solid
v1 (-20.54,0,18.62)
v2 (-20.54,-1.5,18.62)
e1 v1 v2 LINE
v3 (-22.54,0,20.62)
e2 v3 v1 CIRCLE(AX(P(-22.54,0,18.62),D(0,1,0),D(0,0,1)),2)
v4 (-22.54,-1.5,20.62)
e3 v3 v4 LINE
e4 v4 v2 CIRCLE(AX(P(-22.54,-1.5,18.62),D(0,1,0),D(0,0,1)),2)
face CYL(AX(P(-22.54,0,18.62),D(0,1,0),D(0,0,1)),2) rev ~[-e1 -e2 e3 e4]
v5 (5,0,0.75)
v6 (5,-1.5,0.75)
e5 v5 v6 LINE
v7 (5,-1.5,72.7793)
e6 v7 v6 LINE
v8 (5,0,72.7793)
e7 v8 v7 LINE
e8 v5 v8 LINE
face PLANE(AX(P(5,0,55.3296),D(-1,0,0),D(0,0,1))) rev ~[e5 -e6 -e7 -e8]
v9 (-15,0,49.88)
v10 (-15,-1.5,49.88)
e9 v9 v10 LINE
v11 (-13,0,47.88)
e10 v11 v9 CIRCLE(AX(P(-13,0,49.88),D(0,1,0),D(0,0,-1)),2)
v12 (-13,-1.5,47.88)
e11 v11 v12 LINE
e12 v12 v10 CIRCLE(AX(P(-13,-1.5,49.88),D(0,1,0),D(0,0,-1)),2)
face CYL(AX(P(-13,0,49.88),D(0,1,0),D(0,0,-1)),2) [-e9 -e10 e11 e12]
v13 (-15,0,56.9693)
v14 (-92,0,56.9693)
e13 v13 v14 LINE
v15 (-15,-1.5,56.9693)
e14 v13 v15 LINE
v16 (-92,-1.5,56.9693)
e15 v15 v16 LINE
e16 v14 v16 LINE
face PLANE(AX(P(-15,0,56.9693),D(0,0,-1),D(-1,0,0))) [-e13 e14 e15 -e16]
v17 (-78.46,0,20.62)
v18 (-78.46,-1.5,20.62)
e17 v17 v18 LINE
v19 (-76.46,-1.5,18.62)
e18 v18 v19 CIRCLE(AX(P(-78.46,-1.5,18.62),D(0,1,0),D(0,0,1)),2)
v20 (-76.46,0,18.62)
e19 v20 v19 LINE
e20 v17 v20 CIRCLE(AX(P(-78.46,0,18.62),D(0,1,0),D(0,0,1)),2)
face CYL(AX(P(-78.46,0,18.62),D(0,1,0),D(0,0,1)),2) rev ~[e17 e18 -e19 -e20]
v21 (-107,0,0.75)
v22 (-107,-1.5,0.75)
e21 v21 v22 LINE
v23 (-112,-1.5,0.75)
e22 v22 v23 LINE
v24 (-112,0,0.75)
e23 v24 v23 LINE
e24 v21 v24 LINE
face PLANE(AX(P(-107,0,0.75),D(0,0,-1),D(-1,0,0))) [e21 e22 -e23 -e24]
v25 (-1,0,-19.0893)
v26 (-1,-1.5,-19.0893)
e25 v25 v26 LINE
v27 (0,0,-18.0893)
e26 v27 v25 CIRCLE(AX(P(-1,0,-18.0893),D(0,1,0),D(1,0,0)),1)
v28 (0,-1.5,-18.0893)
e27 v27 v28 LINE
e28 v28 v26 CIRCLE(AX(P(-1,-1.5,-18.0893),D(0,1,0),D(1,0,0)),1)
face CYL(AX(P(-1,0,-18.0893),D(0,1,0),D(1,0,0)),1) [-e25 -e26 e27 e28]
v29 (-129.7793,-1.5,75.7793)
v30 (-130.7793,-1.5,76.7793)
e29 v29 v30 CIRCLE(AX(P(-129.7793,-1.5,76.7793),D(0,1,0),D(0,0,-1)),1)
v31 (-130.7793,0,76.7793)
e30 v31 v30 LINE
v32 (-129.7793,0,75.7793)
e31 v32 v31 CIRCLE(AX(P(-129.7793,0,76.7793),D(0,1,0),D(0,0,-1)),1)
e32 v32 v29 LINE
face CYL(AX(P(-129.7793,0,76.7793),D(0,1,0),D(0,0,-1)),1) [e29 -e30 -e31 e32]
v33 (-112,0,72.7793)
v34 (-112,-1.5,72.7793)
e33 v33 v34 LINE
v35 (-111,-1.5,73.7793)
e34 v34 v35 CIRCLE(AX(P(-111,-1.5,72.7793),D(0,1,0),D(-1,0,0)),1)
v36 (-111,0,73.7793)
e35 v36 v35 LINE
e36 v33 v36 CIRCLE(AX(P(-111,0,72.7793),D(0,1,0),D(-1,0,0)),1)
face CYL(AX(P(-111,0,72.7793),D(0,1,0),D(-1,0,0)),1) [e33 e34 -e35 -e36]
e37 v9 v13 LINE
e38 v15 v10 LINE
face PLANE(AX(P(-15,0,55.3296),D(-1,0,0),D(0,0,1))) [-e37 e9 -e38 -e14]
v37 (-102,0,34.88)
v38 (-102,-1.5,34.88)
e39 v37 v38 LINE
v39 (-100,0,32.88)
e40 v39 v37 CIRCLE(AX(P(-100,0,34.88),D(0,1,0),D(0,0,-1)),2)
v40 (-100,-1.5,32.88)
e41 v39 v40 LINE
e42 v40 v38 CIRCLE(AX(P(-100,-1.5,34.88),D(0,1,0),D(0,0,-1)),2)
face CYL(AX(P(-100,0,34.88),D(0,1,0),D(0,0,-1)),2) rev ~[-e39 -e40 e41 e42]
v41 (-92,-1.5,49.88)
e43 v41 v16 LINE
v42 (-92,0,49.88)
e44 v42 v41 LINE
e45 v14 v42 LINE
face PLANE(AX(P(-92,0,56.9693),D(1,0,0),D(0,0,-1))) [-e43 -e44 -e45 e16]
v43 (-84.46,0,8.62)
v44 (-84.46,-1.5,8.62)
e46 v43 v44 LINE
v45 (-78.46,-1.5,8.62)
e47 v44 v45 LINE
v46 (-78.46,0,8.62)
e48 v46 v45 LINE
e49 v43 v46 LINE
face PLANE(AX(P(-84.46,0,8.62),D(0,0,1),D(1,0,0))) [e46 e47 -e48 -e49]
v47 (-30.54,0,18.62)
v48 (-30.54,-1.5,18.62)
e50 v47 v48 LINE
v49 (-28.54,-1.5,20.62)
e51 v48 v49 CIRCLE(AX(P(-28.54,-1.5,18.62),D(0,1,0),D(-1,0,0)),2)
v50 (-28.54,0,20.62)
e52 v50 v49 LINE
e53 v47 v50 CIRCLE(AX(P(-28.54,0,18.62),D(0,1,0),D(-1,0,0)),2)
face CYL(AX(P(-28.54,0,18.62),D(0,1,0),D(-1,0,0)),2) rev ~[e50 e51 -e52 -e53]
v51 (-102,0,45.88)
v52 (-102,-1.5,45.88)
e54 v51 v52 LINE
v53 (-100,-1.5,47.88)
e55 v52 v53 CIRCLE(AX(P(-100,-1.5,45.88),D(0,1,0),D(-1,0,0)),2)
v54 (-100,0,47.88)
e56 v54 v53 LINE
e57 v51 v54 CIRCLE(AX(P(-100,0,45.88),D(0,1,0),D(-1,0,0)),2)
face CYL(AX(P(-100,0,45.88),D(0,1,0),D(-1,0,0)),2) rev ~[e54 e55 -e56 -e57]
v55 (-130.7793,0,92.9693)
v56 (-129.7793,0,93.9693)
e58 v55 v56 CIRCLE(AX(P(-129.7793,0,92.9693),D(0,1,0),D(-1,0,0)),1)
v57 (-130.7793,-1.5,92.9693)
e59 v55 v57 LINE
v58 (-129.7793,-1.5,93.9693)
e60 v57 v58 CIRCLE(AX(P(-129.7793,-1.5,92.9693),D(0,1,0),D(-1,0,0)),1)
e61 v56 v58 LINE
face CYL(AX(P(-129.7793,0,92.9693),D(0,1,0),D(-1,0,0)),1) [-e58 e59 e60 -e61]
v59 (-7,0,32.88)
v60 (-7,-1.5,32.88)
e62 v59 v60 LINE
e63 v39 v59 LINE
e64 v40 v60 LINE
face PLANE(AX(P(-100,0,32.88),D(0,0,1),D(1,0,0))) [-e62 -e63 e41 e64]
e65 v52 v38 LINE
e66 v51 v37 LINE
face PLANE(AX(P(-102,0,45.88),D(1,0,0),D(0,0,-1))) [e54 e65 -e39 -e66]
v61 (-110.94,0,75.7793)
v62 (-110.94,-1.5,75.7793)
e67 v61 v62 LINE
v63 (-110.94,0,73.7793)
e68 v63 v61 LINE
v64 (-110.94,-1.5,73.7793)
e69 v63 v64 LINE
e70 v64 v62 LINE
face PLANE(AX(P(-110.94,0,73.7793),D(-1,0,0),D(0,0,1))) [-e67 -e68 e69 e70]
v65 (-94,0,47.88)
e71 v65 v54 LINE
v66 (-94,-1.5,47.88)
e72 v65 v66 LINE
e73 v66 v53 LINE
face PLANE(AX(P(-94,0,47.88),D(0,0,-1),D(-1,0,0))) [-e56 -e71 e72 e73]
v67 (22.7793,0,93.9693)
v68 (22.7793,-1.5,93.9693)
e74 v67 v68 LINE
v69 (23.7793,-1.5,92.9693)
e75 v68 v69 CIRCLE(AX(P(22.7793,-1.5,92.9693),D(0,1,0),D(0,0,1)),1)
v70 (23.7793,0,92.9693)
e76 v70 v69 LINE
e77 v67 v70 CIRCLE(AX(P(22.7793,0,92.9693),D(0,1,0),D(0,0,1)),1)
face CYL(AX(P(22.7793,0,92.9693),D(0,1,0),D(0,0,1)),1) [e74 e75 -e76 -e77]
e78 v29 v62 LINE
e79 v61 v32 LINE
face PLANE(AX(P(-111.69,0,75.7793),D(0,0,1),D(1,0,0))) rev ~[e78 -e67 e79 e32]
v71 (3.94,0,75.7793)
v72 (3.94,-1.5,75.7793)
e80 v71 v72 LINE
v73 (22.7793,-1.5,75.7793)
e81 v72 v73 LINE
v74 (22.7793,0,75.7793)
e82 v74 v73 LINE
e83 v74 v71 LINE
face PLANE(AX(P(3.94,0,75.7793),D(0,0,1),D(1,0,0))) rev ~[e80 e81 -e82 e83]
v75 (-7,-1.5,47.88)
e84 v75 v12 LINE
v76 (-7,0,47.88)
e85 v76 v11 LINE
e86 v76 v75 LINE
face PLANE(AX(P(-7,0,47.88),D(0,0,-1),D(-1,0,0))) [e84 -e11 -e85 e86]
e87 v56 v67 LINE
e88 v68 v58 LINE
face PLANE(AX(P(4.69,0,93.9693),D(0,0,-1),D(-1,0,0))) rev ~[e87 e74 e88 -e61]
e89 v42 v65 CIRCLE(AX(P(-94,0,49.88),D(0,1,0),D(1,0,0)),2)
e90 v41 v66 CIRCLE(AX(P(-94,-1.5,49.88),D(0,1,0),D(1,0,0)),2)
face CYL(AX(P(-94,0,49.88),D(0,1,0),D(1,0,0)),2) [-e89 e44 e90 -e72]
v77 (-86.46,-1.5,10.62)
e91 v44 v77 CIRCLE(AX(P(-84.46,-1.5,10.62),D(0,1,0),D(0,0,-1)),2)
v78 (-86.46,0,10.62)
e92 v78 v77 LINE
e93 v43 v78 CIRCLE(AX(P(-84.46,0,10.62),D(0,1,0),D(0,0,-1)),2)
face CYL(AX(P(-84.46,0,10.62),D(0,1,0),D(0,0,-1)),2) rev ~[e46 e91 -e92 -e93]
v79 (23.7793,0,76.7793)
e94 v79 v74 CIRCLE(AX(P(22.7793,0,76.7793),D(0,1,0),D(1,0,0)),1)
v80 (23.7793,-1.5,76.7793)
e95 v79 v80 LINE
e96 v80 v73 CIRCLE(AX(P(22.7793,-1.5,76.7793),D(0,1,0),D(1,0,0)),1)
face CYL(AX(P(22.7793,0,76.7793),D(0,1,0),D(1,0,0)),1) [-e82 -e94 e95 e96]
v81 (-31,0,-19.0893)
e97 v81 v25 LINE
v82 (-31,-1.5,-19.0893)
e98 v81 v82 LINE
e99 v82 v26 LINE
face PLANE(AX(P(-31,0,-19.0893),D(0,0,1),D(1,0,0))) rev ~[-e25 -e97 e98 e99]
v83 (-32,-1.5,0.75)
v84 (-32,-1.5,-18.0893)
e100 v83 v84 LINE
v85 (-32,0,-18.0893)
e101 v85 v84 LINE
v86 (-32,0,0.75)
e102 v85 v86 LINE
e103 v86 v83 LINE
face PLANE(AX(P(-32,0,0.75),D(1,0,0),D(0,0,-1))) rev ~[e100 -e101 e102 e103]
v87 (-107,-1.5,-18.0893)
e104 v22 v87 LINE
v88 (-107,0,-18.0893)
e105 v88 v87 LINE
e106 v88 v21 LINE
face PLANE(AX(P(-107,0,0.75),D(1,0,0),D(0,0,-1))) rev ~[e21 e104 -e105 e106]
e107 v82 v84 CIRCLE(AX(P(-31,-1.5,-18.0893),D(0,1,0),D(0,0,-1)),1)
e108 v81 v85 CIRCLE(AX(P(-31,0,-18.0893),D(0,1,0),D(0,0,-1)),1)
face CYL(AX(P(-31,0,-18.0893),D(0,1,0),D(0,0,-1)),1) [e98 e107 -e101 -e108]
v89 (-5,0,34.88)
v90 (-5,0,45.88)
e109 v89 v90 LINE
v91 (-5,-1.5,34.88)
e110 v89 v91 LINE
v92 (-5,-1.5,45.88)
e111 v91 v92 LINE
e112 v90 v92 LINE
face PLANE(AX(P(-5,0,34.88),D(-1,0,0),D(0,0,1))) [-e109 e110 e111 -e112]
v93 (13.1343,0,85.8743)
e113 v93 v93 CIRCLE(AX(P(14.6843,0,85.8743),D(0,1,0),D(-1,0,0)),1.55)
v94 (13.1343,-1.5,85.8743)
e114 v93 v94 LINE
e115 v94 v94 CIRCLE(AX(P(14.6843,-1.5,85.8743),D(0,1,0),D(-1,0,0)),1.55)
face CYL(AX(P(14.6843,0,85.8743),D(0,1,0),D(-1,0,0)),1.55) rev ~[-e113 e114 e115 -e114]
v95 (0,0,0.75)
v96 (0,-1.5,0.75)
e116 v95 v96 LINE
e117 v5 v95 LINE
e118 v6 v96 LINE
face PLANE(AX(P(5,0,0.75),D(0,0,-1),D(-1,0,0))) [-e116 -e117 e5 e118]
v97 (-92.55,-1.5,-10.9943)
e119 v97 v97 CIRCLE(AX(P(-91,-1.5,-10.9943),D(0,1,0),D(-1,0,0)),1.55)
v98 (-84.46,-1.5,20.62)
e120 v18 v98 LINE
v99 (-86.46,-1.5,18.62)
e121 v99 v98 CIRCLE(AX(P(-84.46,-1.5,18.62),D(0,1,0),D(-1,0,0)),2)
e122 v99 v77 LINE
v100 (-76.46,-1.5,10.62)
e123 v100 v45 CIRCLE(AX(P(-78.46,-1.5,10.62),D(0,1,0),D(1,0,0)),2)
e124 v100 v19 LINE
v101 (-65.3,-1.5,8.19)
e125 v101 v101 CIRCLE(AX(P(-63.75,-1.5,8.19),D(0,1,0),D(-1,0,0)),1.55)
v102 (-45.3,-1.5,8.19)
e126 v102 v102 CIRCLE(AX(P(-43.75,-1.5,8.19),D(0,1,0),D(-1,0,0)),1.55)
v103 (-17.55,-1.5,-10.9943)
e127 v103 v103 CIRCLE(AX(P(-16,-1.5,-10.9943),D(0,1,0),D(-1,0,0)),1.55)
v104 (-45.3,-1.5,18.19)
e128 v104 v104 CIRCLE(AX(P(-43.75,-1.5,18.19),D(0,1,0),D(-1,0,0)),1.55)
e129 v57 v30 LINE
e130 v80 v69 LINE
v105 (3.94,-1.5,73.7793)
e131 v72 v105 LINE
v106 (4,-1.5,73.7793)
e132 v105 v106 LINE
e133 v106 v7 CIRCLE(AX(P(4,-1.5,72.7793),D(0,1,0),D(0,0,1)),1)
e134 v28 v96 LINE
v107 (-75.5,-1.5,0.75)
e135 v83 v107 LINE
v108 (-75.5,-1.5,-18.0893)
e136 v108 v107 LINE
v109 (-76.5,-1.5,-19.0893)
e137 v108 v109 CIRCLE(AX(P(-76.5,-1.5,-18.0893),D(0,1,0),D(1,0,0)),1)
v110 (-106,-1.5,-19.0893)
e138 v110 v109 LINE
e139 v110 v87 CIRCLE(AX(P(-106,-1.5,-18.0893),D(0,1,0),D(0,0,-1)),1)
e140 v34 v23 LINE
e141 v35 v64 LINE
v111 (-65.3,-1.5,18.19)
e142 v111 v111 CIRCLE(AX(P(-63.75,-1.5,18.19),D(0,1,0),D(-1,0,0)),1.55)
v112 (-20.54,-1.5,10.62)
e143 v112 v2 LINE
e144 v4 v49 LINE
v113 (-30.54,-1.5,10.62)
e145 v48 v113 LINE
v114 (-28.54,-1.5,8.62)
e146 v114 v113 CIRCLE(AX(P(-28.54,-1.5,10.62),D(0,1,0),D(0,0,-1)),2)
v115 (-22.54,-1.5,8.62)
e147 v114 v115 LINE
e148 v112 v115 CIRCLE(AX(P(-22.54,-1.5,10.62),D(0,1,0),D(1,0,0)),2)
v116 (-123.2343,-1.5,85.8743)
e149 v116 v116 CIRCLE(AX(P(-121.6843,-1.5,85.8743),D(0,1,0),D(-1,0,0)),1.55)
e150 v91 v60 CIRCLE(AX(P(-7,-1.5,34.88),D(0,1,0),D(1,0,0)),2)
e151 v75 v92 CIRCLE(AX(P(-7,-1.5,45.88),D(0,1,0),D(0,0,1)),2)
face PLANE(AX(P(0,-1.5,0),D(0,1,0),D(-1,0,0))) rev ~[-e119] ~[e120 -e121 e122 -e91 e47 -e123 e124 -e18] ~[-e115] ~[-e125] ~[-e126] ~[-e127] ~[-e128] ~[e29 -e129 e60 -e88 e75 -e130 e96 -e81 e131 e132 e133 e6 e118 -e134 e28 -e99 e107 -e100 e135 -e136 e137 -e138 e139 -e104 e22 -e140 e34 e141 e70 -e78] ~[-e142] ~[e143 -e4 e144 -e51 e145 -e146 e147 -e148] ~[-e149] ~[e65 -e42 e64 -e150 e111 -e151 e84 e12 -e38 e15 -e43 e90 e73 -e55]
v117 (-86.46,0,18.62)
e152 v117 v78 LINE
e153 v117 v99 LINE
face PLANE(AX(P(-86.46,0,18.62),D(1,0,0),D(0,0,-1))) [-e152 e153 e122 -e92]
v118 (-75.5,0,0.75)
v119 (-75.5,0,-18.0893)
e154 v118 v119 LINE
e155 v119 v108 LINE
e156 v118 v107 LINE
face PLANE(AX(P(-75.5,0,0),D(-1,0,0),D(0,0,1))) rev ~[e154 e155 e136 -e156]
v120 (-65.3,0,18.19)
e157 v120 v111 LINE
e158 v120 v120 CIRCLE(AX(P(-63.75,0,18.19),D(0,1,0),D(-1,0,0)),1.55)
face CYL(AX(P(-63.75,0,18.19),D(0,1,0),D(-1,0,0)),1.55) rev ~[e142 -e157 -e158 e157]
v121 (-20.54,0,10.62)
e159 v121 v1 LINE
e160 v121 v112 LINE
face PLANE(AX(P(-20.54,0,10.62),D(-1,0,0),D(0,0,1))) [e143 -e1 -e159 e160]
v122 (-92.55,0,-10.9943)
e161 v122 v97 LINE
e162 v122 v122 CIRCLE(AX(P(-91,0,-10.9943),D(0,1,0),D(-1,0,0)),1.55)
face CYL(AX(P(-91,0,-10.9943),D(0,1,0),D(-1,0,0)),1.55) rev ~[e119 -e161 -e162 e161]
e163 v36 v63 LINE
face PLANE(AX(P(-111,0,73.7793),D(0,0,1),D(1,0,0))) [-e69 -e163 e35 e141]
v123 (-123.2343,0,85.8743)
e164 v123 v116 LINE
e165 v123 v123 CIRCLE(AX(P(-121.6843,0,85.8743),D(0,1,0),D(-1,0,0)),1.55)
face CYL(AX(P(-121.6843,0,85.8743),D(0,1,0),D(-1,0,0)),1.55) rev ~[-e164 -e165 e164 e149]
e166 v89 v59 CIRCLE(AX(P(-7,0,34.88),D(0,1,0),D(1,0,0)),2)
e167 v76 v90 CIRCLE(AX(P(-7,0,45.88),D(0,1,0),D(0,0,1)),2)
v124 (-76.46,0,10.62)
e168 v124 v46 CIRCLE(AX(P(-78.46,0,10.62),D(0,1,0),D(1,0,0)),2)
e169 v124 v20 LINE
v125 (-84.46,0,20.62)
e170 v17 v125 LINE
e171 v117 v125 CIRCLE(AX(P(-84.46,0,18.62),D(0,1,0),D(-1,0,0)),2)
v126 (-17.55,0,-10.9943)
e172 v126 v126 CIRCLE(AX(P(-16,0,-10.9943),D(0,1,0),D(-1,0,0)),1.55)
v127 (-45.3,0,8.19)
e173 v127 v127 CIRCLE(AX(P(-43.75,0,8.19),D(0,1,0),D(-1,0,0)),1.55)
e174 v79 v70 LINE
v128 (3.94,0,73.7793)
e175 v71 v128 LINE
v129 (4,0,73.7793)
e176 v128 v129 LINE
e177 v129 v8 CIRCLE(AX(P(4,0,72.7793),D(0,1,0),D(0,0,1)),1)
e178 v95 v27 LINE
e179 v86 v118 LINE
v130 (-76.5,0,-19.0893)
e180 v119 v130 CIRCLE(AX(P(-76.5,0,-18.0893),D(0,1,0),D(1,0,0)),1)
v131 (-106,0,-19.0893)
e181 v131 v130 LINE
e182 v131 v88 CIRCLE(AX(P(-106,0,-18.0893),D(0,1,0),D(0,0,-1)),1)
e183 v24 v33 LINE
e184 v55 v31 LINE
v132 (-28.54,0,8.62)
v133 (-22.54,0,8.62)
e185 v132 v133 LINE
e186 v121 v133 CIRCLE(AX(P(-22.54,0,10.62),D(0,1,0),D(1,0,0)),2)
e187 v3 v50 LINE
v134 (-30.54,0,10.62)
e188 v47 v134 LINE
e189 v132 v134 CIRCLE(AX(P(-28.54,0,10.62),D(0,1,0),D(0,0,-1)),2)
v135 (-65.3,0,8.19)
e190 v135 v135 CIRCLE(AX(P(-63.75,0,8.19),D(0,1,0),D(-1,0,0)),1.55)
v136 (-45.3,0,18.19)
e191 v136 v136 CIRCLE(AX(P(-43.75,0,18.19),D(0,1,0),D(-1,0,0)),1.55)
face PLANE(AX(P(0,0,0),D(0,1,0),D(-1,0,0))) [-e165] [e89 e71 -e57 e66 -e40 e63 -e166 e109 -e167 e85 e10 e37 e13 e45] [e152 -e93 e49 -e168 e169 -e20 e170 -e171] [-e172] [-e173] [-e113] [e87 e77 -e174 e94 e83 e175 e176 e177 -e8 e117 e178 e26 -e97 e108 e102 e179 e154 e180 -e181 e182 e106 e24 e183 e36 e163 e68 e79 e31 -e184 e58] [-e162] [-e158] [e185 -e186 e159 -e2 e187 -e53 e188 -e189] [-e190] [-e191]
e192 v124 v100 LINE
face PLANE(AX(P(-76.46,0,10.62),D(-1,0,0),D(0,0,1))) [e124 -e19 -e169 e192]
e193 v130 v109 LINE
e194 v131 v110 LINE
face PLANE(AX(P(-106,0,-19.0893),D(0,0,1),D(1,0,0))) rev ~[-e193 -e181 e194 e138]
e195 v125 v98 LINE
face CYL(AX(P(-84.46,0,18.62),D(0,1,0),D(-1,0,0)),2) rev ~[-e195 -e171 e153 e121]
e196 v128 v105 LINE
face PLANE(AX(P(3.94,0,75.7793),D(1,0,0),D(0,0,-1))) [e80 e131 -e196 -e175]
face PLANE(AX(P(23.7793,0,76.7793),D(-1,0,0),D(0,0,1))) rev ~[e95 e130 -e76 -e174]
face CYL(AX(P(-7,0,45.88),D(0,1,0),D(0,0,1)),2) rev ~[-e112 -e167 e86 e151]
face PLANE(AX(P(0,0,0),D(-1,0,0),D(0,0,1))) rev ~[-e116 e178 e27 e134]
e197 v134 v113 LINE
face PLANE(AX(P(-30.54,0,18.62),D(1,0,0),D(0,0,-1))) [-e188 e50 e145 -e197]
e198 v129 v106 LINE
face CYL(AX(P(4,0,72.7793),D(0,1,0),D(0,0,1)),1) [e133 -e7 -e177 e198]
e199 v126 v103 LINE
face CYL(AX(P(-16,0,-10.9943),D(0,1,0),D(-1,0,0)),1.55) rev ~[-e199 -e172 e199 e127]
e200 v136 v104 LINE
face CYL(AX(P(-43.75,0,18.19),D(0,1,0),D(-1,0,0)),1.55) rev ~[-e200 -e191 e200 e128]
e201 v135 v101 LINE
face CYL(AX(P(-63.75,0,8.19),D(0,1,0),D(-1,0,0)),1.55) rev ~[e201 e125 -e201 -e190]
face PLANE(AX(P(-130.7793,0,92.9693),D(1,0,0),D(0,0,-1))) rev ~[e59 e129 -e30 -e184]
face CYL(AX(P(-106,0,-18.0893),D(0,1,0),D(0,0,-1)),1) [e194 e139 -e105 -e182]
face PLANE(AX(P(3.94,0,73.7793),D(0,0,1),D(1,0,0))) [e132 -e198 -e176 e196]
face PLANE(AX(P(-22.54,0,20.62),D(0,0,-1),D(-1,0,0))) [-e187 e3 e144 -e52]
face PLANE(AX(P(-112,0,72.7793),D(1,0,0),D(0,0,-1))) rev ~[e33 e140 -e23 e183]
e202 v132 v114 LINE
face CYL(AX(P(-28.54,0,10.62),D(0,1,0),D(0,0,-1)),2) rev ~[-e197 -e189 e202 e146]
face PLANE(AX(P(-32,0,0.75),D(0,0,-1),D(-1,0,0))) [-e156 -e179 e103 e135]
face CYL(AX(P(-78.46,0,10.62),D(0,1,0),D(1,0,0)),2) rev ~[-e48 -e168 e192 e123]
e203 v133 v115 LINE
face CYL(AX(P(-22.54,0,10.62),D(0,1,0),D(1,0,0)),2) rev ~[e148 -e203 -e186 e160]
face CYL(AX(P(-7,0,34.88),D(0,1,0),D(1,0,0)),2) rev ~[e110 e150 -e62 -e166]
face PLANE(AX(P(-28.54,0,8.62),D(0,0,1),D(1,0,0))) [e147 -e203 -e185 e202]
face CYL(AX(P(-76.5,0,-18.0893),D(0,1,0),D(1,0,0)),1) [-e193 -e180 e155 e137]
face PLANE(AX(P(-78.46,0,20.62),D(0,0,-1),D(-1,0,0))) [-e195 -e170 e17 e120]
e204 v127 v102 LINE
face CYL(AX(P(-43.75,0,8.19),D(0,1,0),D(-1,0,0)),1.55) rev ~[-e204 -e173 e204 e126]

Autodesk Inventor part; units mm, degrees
ref_plane "YZ Plane" through (0, 0, 0) normal (1, 0, 0) x (0, 1, 0)
ref_plane "XZ Plane" through (0, 0, 0) normal (0, 1, 0) x (-1, 0, 0)
ref_plane "XY Plane" through (0, 0, 0) normal (0, 0, 1) x (1, 0, 0)
sketch "Sketch1" plane through (0, 0, 0) normal (0, 1, 0) x (-1, 0, 0)
  line L0 (-5, 55.3296) -> (112, 55.3296)
  line L1 (75.5, -0.4496) -> (107, -0.4496)
  line L2 (-5.1396, 93.9693) -> (-5.1396, 75.7793)
  line L3 (112.1396, 75.7793) -> (112.1396, 93.9693)
  line L4 (0, -0.4496) -> (32, -0.4496)
  arc A0 (30.54, 18.62) -> (28.54, 20.62) centre (28.54, 18.62) ccw
  line L5 (22.54, 20.62) -> (28.54, 20.62)
  arc A1 (28.54, 8.62) -> (30.54, 10.62) centre (28.54, 10.62) ccw
  line L6 (30.54, 18.62) -> (30.54, 10.62)
  arc A2 (22.54, 20.62) -> (20.54, 18.62) centre (22.54, 18.62) ccw
  line L7 (20.54, 10.62) -> (20.54, 18.62)
  arc A3 (20.54, 10.62) -> (22.54, 8.62) centre (22.54, 10.62) ccw
  line L8 (28.54, 8.62) -> (22.54, 8.62)
  arc A4 (78.46, 20.62) -> (76.46, 18.62) centre (78.46, 18.62) ccw
  line L9 (76.46, 10.62) -> (76.46, 18.62)
  arc A5 (86.46, 18.62) -> (84.46, 20.62) centre (84.46, 18.62) ccw
  line L10 (78.46, 20.62) -> (84.46, 20.62)
  arc A6 (76.46, 10.62) -> (78.46, 8.62) centre (78.46, 10.62) ccw
  line L11 (84.46, 8.62) -> (78.46, 8.62)
  arc A7 (84.46, 8.62) -> (86.46, 10.62) centre (84.46, 10.62) ccw
  line L12 (86.46, 18.62) -> (86.46, 10.62)
  arc A8 (7, 47.88) -> (5, 45.88) centre (7, 45.88) ccw
  line L13 (5, 34.88) -> (5, 45.88)
  arc A9 (13, 47.88) -> (15, 49.88) centre (13, 49.88) ccw
  line L14 (15, 49.88) -> (15, 56.9693)
  arc A10 (5, 34.88) -> (7, 32.88) centre (7, 34.88) ccw
  line L15 (100, 32.88) -> (7, 32.88)
  arc A11 (92, 49.88) -> (94, 47.88) centre (94, 49.88) ccw
  line L16 (92, 56.9693) -> (92, 49.88)
  arc A12 (102, 45.88) -> (100, 47.88) centre (100, 45.88) ccw
  line L17 (94, 47.88) -> (100, 47.88)
  arc A13 (100, 32.88) -> (102, 34.88) centre (100, 34.88) ccw
  line L18 (102, 45.88) -> (102, 34.88)
  line L19 (15, 56.9693) -> (92, 56.9693)
  line L20 (7, 47.88) -> (13, 47.88)
  circle A14 centre (91, -10.9943) radius 1.55
  circle A15 centre (16, -10.9943) radius 1.55
  circle A16 centre (121.6843, 85.8743) radius 1.55
  circle A17 centre (-14.6843, 85.8743) radius 1.55
  circle A18 centre (63.75, 8.19) radius 1.55
  circle A19 centre (63.75, 18.19) radius 1.55
  circle A20 centre (43.75, 8.19) radius 1.55
  circle A21 centre (43.75, 18.19) radius 1.55
  arc A22 (112, 72.7793) -> (111, 73.7793) centre (111, 72.7793) ccw
  arc A23 (-4, 73.7793) -> (-5, 72.7793) centre (-4, 72.7793) ccw
  line L21 (-3.94, 73.7793) -> (-4, 73.7793)
  arc A24 (-23.7793, 76.7793) -> (-22.7793, 75.7793) centre (-22.7793, 76.7793) ccw
  arc A25 (-22.7793, 93.9693) -> (-23.7793, 92.9693) centre (-22.7793, 92.9693) ccw
  line L22 (-22.7793, 93.9693) -> (129.7793, 93.9693)
  arc A26 (130.7793, 92.9693) -> (129.7793, 93.9693) centre (129.7793, 92.9693) ccw
  arc A27 (129.7793, 75.7793) -> (130.7793, 76.7793) centre (129.7793, 76.7793) ccw
  line L23 (129.7793, 75.7793) -> (110.94, 75.7793)
  arc A28 (31, -19.0893) -> (32, -18.0893) centre (31, -18.0893) ccw
  arc A29 (0, -18.0893) -> (1, -19.0893) centre (1, -18.0893) ccw
  arc A30 (106, -19.0893) -> (107, -18.0893) centre (106, -18.0893) ccw
  arc A31 (75.5, -18.0893) -> (76.5, -19.0893) centre (76.5, -18.0893) ccw
  line L24 (75.5, -18.0893) -> (75.5, 0.75)
  line L25 (106, -19.0893) -> (76.5, -19.0893)
  line L26 (107, 0.75) -> (107, -18.0893)
  line L27 (107, 0.75) -> (112, 0.75)
  line L28 (112, 72.7793) -> (112, 0.75)
  line L29 (31, -19.0893) -> (1, -19.0893)
  line L30 (0, -18.0893) -> (0, 0.75)
  line L31 (-5, 0.75) -> (0, 0.75)
  line L32 (32, 0.75) -> (32, -18.0893)
  line L33 (32, 0.75) -> (75.5, 0.75)
  line L34 (-5, 0.75) -> (-5, 72.7793)
  line L35 (130.7793, 92.9693) -> (130.7793, 76.7793)
  line L36 (-23.7793, 76.7793) -> (-23.7793, 92.9693)
  line L37 (-3.94, 75.7793) -> (-22.7793, 75.7793)
  line L38 (-3.94, 75.7793) -> (-3.94, 73.7793)
  line L39 (111, 73.7793) -> (110.94, 73.7793)
  line L40 (110.94, 73.7793) -> (110.94, 75.7793)
  line L41 (112.5893, 93.9693) -> (112.5893, 75.7793)
  line L42 (-5.5893, 75.7793) -> (-5.5893, 93.9693)
  line L43 (111.69, 75.7793) -> (111.69, 93.9693)
  line L44 (-4.69, 93.9693) -> (-4.69, 75.7793)
  line L45 (32, -0.8993) -> (0, -0.8993)
  line L46 (107, -0.8993) -> (75.5, -0.8993)
  line L47 (-5, 55.7793) -> (15, 55.7793)
  line L48 (92, 55.7793) -> (112, 55.7793)
  line L49 (0, 0) -> (32, 0)
  line L50 (75.5, 0) -> (107, 0)
  line L51 (15, 54.88) -> (-5, 54.88)
  line L52 (112, 54.88) -> (92, 54.88)
extrude "Extrusion1" add sketch "Sketch1" against normal blind 1.5 contours L34 L47 L14 L0 | L0 L14 L51 L34 | L51 L14 A9 L20 A8 L13 A10 L15 A13 L18 A12 L17 A11 L16 L52 L28 L27 L26 L50 L24 L33 L32 L49 L30 L31 L34 | L34 A23 L21 L38 L37 L44 L22 L43 L23 L40 L39 A22 L28 L48 L16 L19 L14 L47 | L16 L48 L28 L0 | L0 L28 L52 L16 | L49 L32 L4 L30 | L4 L32 L45 L30 | L45 L32 A28 L29 A29 L30 | L37 L2 L22 L44 | L26 L1 L24 L50 | L37 L42 L22 L2 | L26 L46 L24 L1 | L37 A24 L36 A25 L22 L42 | L22 L3 L23 L43 | L26 A30 L25 A31 L24 L46 | L22 L41 L23 L3 | L22 A26 L35 A27 L23 L41
properties part number "body_top_frame"
